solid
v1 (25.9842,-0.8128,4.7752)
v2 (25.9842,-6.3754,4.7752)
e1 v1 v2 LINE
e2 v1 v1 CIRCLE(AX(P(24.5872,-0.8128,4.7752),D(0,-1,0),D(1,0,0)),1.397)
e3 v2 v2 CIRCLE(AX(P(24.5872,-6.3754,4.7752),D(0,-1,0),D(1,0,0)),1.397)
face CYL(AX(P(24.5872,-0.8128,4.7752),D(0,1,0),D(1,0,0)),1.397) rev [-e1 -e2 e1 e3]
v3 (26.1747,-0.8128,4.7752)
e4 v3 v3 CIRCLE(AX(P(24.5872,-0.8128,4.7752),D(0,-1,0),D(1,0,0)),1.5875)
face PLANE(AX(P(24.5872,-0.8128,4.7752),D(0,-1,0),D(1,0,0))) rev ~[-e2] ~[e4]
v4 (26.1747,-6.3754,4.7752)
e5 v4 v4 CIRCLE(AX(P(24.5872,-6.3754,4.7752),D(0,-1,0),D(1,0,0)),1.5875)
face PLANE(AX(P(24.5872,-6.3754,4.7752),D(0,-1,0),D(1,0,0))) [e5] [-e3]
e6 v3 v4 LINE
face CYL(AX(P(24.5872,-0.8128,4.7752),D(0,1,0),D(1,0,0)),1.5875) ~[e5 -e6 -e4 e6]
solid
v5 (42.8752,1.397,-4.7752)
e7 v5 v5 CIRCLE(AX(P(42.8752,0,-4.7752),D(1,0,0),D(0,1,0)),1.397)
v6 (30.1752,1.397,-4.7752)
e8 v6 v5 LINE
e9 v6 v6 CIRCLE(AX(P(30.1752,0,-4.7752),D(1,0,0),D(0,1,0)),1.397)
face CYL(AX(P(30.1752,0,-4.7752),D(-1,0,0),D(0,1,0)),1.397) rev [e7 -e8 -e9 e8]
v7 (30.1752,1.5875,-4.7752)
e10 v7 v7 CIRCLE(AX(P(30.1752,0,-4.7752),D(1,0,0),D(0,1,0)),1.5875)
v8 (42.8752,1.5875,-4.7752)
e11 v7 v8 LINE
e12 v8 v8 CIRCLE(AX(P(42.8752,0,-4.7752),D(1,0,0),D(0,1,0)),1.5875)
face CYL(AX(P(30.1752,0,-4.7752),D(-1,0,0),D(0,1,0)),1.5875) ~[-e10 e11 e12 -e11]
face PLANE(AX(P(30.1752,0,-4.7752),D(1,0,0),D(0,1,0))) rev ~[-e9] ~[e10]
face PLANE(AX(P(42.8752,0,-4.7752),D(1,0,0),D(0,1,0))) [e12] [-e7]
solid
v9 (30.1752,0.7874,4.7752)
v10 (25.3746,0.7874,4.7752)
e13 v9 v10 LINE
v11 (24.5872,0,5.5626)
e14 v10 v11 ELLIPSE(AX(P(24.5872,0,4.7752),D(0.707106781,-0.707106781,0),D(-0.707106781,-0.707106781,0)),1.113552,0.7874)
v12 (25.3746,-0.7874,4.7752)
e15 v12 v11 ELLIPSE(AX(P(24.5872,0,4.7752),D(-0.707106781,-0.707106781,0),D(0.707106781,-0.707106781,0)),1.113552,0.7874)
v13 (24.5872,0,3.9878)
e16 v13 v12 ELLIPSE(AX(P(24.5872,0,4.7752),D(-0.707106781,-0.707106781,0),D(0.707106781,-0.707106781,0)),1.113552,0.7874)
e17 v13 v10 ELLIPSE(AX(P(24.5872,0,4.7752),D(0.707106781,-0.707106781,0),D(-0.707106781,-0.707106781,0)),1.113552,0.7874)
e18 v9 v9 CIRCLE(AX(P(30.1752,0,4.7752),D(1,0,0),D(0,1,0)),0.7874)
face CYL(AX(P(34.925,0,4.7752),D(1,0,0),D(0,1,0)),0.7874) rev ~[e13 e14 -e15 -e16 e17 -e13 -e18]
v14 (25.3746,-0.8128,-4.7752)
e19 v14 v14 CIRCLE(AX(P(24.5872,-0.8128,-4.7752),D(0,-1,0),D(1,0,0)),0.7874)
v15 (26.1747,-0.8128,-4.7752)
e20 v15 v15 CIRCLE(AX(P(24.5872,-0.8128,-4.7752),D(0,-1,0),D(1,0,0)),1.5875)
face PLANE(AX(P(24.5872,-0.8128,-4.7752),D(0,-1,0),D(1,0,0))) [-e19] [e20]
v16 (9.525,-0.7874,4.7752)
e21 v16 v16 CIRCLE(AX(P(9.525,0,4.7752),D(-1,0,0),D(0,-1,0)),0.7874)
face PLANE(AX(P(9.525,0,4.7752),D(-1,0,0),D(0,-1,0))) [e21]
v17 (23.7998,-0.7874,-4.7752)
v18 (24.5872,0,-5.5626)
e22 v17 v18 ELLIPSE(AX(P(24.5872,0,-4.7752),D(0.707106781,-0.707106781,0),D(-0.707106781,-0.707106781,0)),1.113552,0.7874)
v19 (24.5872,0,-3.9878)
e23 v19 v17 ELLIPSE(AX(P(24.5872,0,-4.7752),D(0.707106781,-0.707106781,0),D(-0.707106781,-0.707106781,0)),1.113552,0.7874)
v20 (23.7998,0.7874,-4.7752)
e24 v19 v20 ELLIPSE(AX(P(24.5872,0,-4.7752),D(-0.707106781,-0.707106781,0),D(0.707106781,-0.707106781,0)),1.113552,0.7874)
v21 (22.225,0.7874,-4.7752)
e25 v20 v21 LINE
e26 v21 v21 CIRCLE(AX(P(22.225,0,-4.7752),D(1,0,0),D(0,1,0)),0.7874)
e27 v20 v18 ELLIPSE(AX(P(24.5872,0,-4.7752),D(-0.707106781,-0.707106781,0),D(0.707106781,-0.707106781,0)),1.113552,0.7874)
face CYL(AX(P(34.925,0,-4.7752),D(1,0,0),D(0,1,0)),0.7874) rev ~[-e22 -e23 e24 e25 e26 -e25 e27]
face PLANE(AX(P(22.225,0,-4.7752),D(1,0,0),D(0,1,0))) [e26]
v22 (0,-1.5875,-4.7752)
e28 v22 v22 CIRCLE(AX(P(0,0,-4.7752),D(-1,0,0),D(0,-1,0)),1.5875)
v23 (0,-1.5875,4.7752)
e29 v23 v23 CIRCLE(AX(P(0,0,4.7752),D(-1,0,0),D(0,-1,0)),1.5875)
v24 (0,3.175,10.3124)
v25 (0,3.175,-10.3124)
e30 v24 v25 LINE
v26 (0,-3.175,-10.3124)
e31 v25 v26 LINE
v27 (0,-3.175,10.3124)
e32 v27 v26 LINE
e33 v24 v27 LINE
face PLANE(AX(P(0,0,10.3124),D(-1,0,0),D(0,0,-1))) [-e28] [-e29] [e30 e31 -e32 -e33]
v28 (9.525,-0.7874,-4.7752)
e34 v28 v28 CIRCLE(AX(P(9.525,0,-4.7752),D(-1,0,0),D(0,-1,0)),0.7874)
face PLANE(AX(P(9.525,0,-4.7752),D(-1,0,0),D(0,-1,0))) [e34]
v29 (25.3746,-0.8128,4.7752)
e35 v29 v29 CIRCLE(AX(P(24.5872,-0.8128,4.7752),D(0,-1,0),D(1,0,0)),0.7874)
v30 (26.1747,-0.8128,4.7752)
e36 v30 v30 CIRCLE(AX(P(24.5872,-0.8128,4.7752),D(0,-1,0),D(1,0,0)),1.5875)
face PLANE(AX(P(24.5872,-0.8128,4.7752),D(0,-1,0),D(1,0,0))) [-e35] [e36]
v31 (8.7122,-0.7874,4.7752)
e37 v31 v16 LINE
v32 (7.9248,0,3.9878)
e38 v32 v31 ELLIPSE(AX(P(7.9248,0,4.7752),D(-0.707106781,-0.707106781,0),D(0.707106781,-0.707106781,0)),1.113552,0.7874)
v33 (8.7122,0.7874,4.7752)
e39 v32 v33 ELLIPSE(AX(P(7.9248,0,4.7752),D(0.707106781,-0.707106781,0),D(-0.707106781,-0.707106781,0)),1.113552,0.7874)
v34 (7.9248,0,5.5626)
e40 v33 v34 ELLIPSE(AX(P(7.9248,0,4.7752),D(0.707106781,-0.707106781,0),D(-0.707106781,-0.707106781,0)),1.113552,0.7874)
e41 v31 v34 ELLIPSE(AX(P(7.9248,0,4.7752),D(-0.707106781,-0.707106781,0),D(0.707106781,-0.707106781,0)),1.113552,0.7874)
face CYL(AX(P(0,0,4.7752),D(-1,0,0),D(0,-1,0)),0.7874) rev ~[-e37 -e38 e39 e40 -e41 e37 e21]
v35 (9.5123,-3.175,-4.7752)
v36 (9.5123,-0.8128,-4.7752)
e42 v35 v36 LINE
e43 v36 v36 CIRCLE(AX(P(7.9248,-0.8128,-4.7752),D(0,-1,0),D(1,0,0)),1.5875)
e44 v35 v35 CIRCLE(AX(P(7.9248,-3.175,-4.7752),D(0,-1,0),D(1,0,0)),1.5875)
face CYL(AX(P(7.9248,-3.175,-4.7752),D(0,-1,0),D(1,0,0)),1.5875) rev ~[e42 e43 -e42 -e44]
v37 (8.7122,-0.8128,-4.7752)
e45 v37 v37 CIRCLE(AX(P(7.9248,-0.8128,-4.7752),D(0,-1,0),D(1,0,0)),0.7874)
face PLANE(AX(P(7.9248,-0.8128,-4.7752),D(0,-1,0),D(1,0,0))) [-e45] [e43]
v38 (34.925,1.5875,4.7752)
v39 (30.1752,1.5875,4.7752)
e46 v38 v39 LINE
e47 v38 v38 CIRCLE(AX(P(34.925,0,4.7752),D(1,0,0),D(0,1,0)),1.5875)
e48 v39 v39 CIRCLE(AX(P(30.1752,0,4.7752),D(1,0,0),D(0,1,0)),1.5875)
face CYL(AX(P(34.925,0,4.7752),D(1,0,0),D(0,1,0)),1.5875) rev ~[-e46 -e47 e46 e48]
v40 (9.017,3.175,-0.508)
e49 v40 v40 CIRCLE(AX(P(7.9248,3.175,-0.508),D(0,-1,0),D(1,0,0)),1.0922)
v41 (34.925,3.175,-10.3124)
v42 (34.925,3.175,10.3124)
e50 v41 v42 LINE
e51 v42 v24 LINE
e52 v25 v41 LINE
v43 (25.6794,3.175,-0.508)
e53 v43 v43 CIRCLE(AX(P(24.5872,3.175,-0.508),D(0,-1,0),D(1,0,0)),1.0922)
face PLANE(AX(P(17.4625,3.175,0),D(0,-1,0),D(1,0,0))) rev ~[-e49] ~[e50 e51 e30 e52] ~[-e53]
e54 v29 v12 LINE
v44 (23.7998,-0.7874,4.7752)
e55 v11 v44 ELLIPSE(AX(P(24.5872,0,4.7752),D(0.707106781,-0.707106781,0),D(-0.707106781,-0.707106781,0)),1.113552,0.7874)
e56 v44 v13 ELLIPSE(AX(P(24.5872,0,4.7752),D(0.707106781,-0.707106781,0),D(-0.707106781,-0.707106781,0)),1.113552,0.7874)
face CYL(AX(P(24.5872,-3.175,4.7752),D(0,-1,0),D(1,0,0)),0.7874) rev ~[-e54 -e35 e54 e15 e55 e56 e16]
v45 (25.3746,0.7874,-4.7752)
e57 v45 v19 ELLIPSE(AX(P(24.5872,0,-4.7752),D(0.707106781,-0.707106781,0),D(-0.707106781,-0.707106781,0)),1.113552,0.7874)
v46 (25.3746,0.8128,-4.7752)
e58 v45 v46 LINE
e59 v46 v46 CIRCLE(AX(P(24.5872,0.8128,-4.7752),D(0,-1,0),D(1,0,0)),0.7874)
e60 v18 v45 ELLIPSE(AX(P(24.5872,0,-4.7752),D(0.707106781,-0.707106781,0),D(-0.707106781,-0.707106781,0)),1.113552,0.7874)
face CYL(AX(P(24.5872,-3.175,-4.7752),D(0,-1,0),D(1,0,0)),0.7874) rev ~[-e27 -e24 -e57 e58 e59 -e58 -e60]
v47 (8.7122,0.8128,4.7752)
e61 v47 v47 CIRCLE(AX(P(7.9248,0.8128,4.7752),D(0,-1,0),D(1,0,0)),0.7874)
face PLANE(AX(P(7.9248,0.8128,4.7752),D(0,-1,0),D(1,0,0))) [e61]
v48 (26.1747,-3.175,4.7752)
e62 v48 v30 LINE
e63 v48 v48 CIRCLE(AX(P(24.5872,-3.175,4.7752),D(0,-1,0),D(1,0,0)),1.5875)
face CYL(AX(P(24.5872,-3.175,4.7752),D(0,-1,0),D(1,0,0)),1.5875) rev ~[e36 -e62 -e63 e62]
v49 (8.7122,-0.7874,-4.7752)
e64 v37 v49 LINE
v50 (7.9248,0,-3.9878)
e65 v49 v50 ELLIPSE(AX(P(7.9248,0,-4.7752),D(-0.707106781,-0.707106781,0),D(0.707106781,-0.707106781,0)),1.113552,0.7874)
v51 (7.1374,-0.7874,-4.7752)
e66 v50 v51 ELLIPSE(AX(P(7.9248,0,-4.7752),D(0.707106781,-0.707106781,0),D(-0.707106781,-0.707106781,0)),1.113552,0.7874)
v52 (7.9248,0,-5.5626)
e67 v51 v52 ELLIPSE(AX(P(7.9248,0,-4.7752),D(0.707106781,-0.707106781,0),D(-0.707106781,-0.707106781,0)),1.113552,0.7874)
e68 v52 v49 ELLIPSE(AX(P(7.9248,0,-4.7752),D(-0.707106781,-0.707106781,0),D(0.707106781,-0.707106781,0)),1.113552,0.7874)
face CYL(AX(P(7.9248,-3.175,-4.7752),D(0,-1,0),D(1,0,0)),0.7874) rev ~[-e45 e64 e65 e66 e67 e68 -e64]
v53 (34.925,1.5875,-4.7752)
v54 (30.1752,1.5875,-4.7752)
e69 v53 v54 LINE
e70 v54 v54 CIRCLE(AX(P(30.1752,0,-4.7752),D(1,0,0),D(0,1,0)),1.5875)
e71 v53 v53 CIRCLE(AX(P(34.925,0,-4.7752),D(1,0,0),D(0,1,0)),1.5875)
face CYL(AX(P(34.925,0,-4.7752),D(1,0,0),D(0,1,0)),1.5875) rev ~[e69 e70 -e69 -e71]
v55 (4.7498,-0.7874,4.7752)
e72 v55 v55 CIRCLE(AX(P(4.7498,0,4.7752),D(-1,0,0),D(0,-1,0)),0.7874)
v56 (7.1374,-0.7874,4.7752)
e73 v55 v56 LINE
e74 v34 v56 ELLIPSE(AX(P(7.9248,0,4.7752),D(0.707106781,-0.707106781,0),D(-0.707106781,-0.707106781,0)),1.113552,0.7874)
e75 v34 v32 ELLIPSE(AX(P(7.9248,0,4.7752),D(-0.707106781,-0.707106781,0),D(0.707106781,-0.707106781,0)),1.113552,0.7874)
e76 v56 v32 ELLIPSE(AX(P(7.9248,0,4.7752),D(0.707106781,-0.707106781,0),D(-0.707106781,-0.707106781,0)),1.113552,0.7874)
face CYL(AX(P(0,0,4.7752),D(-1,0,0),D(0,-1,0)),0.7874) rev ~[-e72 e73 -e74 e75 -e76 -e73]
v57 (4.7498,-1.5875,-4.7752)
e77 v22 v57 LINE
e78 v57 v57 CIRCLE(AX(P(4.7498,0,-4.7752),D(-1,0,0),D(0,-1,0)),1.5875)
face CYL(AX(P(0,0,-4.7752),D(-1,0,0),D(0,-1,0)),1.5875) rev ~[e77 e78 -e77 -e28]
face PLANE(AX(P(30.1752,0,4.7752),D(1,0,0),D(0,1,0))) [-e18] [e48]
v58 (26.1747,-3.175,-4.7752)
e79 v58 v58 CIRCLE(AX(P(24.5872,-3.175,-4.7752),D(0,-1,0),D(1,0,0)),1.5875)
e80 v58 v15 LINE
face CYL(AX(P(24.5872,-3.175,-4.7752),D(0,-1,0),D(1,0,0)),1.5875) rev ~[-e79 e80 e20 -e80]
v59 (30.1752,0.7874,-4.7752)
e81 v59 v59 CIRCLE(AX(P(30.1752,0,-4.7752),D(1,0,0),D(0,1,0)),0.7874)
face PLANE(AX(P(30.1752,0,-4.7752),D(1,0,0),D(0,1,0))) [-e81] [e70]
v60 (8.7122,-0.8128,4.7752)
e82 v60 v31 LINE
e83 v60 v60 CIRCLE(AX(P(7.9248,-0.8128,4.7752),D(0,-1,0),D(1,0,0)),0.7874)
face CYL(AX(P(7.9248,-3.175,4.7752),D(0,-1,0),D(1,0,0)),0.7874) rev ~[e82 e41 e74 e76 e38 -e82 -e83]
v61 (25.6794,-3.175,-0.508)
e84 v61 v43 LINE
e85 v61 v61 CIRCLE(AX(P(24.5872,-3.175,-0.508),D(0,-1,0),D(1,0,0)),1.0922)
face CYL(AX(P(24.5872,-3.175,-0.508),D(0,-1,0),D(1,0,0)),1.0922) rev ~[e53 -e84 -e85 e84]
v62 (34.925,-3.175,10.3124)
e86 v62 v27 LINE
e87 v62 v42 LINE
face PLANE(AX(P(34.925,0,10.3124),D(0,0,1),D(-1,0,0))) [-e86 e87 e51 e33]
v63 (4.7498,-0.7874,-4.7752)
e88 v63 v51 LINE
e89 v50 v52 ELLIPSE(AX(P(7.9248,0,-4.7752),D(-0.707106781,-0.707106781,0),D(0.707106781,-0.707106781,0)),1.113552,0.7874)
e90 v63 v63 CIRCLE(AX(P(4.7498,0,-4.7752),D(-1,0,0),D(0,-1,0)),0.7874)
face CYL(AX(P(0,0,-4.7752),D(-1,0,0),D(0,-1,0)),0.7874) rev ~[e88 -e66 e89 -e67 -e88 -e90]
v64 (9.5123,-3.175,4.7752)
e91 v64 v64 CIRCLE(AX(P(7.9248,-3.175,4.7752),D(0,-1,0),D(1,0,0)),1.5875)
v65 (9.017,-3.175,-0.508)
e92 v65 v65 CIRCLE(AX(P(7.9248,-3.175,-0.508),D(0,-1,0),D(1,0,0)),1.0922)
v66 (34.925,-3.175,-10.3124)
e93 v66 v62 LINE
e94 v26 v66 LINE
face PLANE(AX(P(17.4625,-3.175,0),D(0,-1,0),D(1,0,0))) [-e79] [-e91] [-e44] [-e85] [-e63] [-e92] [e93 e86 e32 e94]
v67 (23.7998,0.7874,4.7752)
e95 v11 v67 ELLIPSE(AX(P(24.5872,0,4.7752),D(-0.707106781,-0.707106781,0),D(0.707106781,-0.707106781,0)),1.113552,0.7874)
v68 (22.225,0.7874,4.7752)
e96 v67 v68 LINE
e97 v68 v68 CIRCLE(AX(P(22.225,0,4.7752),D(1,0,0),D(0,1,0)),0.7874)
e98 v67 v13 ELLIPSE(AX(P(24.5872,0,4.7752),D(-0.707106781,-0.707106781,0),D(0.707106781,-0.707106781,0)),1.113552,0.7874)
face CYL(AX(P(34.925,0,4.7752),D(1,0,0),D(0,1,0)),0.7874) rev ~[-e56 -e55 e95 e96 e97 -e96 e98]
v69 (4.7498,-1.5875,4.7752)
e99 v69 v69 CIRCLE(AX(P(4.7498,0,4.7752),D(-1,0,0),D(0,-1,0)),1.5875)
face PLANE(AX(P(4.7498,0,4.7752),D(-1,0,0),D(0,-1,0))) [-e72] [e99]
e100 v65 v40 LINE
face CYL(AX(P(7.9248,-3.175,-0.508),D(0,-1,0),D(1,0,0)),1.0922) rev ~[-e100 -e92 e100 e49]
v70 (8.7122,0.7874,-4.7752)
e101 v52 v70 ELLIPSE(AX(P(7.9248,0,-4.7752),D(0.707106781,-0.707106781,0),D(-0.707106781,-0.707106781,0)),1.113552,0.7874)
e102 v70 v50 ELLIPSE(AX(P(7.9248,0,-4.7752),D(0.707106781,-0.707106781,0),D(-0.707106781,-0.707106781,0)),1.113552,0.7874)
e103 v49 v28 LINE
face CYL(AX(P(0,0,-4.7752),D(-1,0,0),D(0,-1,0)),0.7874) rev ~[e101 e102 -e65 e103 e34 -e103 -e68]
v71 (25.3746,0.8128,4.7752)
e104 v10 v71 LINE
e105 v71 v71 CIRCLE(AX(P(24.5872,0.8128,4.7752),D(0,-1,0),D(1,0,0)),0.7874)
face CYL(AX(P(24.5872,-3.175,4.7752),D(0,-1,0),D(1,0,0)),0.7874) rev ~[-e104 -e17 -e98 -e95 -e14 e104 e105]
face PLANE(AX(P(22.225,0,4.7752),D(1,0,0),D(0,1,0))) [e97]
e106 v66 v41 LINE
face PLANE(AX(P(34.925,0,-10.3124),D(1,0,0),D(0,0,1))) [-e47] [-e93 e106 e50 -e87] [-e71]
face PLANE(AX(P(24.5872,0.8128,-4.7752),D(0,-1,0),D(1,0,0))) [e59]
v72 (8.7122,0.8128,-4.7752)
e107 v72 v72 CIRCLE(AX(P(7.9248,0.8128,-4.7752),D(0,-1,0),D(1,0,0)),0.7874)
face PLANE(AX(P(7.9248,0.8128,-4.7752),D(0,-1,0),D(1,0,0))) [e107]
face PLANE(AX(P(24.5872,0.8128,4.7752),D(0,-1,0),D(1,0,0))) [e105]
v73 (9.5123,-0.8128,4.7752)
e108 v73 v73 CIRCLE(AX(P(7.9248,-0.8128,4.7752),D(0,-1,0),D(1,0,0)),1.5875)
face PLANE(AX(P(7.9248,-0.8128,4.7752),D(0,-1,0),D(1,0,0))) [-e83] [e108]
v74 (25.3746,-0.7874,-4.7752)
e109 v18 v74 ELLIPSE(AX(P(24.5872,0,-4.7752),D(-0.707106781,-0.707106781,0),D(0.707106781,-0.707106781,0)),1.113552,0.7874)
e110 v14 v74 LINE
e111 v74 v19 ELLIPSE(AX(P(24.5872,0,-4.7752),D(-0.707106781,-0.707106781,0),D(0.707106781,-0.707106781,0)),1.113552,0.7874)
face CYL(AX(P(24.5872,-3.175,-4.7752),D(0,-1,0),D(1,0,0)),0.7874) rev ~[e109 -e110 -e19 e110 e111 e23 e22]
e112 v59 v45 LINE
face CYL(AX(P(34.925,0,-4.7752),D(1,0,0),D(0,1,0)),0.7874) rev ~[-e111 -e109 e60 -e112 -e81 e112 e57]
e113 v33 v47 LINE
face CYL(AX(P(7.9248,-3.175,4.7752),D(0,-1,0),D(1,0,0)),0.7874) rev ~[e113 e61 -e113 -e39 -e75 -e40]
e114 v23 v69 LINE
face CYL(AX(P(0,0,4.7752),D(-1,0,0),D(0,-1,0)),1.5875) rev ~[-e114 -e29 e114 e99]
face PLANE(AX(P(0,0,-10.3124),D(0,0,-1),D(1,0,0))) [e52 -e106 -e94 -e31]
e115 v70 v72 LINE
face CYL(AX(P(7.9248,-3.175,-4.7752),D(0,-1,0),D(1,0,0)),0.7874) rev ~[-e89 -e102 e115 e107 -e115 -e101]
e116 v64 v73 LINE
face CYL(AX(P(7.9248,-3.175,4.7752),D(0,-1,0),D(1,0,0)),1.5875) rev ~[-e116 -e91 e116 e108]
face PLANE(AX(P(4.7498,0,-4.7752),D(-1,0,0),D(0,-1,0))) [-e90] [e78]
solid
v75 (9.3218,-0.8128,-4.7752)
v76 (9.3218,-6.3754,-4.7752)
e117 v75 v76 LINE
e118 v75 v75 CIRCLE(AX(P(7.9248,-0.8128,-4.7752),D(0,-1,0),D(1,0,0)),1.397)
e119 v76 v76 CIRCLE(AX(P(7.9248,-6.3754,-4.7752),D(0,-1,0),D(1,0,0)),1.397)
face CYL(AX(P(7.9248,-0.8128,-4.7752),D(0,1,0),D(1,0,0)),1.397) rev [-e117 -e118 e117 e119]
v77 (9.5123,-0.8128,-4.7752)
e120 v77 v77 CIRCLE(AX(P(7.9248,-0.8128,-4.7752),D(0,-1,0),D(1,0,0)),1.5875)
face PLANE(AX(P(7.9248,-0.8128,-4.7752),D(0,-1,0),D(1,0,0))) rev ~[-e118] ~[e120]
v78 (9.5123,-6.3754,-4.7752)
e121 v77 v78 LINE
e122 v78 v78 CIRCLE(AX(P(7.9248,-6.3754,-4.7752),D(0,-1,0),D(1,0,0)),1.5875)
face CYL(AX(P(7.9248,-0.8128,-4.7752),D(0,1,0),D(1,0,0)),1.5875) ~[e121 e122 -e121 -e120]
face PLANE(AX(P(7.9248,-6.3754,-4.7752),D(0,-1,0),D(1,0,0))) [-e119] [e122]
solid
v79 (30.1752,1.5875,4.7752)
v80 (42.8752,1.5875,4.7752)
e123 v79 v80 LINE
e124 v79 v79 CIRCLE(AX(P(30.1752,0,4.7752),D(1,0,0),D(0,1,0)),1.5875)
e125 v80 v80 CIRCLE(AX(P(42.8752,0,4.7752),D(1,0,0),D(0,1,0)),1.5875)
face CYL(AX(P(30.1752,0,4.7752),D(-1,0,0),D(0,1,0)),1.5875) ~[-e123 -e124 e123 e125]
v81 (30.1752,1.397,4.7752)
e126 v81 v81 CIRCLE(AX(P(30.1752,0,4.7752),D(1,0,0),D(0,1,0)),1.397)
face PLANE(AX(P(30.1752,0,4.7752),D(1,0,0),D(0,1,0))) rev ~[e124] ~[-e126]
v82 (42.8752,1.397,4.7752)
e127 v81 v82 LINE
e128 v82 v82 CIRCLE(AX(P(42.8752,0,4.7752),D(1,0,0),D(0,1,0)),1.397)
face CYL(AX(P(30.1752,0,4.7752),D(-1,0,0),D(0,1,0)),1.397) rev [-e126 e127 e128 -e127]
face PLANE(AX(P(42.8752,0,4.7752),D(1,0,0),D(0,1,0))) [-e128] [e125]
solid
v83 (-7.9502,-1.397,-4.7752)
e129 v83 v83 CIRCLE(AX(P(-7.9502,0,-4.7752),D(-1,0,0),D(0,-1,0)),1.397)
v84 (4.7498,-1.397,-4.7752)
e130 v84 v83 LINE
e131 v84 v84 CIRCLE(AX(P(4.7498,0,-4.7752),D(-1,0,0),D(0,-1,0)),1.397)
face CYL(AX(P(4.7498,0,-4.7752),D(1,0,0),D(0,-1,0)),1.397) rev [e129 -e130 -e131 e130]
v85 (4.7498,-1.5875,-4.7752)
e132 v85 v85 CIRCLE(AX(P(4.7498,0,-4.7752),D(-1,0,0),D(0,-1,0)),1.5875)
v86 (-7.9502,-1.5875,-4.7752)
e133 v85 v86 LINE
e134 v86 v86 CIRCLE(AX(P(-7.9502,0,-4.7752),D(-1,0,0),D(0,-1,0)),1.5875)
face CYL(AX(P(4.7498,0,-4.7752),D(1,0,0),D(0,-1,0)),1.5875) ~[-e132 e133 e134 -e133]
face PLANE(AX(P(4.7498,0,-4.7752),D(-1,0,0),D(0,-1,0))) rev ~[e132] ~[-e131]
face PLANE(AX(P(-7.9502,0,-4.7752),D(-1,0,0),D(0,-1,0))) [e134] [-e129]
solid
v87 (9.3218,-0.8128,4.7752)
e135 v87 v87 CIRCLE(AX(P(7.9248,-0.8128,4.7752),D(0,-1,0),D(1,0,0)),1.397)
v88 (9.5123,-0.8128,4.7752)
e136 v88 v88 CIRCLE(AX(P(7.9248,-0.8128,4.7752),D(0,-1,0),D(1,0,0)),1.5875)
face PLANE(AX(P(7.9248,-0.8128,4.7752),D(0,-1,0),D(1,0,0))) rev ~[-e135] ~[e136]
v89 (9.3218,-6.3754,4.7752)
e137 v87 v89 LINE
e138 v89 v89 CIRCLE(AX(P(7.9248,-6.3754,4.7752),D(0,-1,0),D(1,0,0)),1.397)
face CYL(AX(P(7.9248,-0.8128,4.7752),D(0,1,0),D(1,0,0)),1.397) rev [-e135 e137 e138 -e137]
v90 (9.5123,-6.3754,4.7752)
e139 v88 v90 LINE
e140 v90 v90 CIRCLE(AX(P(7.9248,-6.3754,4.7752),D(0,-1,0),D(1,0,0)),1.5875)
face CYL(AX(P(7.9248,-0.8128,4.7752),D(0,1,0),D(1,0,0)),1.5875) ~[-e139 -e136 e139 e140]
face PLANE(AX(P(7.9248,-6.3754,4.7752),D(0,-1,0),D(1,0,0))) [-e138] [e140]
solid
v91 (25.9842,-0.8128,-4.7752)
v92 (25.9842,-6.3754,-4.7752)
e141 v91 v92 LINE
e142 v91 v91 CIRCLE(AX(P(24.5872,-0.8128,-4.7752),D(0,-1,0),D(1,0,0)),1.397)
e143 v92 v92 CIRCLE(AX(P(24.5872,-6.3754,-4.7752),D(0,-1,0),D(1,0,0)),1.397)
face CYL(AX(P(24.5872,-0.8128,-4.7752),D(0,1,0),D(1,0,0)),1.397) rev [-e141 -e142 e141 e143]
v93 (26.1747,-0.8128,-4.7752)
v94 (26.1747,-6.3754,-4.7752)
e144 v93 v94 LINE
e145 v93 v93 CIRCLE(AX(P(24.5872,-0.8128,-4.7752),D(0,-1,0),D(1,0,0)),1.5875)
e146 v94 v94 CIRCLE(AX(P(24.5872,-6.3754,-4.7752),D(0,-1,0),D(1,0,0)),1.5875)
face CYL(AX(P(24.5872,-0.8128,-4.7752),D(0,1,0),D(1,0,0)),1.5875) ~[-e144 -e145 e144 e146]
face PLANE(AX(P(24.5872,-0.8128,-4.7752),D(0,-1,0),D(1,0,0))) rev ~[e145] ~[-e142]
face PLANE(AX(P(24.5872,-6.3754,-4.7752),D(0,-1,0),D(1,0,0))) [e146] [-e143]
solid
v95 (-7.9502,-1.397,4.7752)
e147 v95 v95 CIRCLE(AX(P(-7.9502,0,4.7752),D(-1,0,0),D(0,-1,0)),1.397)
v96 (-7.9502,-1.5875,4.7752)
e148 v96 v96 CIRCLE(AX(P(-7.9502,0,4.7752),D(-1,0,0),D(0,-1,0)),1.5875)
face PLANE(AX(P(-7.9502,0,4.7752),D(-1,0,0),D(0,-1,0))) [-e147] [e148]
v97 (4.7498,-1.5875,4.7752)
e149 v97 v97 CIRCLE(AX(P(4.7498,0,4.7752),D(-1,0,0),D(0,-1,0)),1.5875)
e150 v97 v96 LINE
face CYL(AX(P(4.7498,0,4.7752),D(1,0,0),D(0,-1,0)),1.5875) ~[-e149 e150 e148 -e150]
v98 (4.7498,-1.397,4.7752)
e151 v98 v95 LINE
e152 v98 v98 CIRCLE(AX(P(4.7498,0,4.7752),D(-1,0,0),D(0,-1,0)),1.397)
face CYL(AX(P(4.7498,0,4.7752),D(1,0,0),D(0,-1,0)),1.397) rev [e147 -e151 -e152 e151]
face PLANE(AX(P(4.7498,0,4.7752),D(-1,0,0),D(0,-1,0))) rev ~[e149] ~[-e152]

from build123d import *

# Parameters (mm, degrees)
F1_DEPTH  = 3.175
F2_R      = 1.0922
F3_DEPTH  = 50.8
F4_R      = 1.5875
F5_DEPTH  = 2.3622
F6_R      = 0.7874
F7_DEPTH  = 3.9878
F8_R      = 1.5875
F9_DEPTH  = 4.7498
F10_R     = 0.7874
F11_DEPTH = 9.525
F12_R     = 1.5875
F13_DEPTH = 4.7498
F14_R     = 0.7874
F15_DEPTH = 12.7
F19_R     = 1.5875
F19_R_2   = 1.397
F20_DEPTH = 5.5626
F18_R     = 1.5875
F18_R_2   = 1.397
F17_R     = 1.5875
F17_R_2   = 1.397
F16_R     = 1.5875
F16_R_2   = 1.397
F22_R     = 1.5875
F22_R_2   = 1.397
F23_DEPTH = 12.7
F21_R     = 1.5875
F21_R_2   = 1.397
F25_R     = 1.5875
F25_R_2   = 1.397
F26_DEPTH = 12.7
F24_R     = 1.5875
F24_R_2   = 1.397


with BuildPart() as f1:
    # F0 (on Front) → F1 (new body, symmetric)
    with BuildSketch(Plane.XZ):
        Polygon((34.925, 10.3124), (0, 10.3124), (0, 0), (0, -10.3124), (34.925, -10.3124), (34.925, 0), align=None)
    extrude(amount=F1_DEPTH, both=True)

    # F2 (on face) → F3 (cut)
    with BuildSketch(Plane.XZ.offset(3.175)):
        with Locations((7.9248, -0.508)):
            Circle(F2_R)
        with Locations((24.5872, -0.508)):
            Circle(F2_R)
    extrude(amount=-F3_DEPTH, mode=Mode.SUBTRACT)

    # F4 (on face) → F5 (cut)
    with BuildSketch(Plane.XZ.offset(3.175)):
        with Locations((7.9248, 4.7752)):
            Circle(F4_R)
        with Locations((7.9248, -4.7752)):
            Circle(F4_R)
        with Locations((24.5872, -4.7752)):
            Circle(F4_R)
        with Locations((24.5872, 4.7752)):
            Circle(F4_R)
    extrude(amount=-F5_DEPTH, mode=Mode.SUBTRACT)

    # F6 (on face) → F7 (cut)
    with BuildSketch(Plane.XZ.offset(3.175)):
        with Locations((7.9248, 4.7752)):
            Circle(F6_R)
        with Locations((7.9248, -4.7752)):
            Circle(F6_R)
        with Locations((24.5872, -4.7752)):
            Circle(F6_R)
        with Locations((24.5872, 4.7752)):
            Circle(F6_R)
    extrude(amount=-F7_DEPTH, mode=Mode.SUBTRACT)

    # F8 (on face) → F9 (cut)
    with BuildSketch(Plane(origin=(0, 0, 0), x_dir=(0, -1, 0), z_dir=(-1, 0, 0))):
        with Locations((0, 4.7752)):
            Circle(F8_R)
        with Locations((0, -4.7752)):
            Circle(F8_R)
    extrude(amount=-F9_DEPTH, mode=Mode.SUBTRACT)

    # F10 (on face) → F11 (cut)
    with BuildSketch(Plane(origin=(0, 0, 0), x_dir=(0, -1, 0), z_dir=(-1, 0, 0))):
        with Locations((0, 4.7752)):
            Circle(F10_R)
        with Locations((0, -4.7752)):
            Circle(F10_R)
    extrude(amount=-F11_DEPTH, mode=Mode.SUBTRACT)

    # F12 (on face) → F13 (cut)
    with BuildSketch(Plane.YZ.offset(34.925)):
        with Locations((0, 4.7752)):
            Circle(F12_R)
        with Locations((0, -4.7752)):
            Circle(F12_R)
    extrude(amount=-F13_DEPTH, mode=Mode.SUBTRACT)

    # F14 (on face) → F15 (cut)
    with BuildSketch(Plane.YZ.offset(34.925)):
        with Locations((0, 4.7752)):
            Circle(F14_R)
        with Locations((0, -4.7752)):
            Circle(F14_R)
    extrude(amount=-F15_DEPTH, mode=Mode.SUBTRACT)


with BuildPart() as f20:
    # F19 (on face) → F20 (new body)
    with BuildSketch(Plane.XZ.offset(0.8128)):
        with Locations((24.5872, 4.7752)):
            Circle(F19_R)
        with Locations((24.5872, 4.7752)):
            Circle(F19_R_2, mode=Mode.SUBTRACT)
    extrude(amount=F20_DEPTH)


with BuildPart() as f20b:
    # F18 (on face) → F20, piece 2 (new body)
    with BuildSketch(Plane.XZ.offset(0.8128)):
        with Locations((24.5872, -4.7752)):
            Circle(F18_R)
        with Locations((24.5872, -4.7752)):
            Circle(F18_R_2, mode=Mode.SUBTRACT)
    extrude(amount=F20_DEPTH)


with BuildPart() as f20c:
    # F17 (on face) → F20, piece 3 (new body)
    with BuildSketch(Plane.XZ.offset(0.8128)):
        with Locations((7.9248, -4.7752)):
            Circle(F17_R)
        with Locations((7.9248, -4.7752)):
            Circle(F17_R_2, mode=Mode.SUBTRACT)
    extrude(amount=F20_DEPTH)


with BuildPart() as f20d:
    # F16 (on face) → F20, piece 4 (new body)
    with BuildSketch(Plane.XZ.offset(0.8128)):
        with Locations((7.9248, 4.7752)):
            Circle(F16_R)
        with Locations((7.9248, 4.7752)):
            Circle(F16_R_2, mode=Mode.SUBTRACT)
    extrude(amount=F20_DEPTH)


with BuildPart() as f23:
    # F22 (on face) → F23 (new body)
    with BuildSketch(Plane.YZ.offset(30.1752)):
        with Locations((0, -4.7752)):
            Circle(F22_R)
        with Locations((0, -4.7752)):
            Circle(F22_R_2, mode=Mode.SUBTRACT)
    extrude(amount=F23_DEPTH)


with BuildPart() as f23b:
    # F21 (on face) → F23, piece 2 (new body)
    with BuildSketch(Plane.YZ.offset(30.1752)):
        with Locations((0, 4.7752)):
            Circle(F21_R)
        with Locations((0, 4.7752)):
            Circle(F21_R_2, mode=Mode.SUBTRACT)
    extrude(amount=F23_DEPTH)


with BuildPart() as f26:
    # F25 (on face) → F26 (new body)
    with BuildSketch(Plane(origin=(4.7498, 0, 0), x_dir=(0, -1, 0), z_dir=(-1, 0, 0))):
        with Locations((0, -4.7752)):
            Circle(F25_R)
        with Locations((0, -4.7752)):
            Circle(F25_R_2, mode=Mode.SUBTRACT)
    extrude(amount=F26_DEPTH)


with BuildPart() as f26b:
    # F24 (on face) → F26, piece 2 (new body)
    with BuildSketch(Plane(origin=(4.7498, 0, 0), x_dir=(0, -1, 0), z_dir=(-1, 0, 0))):
        with Locations((0, 4.7752)):
            Circle(F24_R)
        with Locations((0, 4.7752)):
            Circle(F24_R_2, mode=Mode.SUBTRACT)
    extrude(amount=F26_DEPTH)


solid = Compound([f1.part, f20.part, f20b.part, f20c.part, f20d.part, f23.part, f23b.part, f26.part, f26b.part])
